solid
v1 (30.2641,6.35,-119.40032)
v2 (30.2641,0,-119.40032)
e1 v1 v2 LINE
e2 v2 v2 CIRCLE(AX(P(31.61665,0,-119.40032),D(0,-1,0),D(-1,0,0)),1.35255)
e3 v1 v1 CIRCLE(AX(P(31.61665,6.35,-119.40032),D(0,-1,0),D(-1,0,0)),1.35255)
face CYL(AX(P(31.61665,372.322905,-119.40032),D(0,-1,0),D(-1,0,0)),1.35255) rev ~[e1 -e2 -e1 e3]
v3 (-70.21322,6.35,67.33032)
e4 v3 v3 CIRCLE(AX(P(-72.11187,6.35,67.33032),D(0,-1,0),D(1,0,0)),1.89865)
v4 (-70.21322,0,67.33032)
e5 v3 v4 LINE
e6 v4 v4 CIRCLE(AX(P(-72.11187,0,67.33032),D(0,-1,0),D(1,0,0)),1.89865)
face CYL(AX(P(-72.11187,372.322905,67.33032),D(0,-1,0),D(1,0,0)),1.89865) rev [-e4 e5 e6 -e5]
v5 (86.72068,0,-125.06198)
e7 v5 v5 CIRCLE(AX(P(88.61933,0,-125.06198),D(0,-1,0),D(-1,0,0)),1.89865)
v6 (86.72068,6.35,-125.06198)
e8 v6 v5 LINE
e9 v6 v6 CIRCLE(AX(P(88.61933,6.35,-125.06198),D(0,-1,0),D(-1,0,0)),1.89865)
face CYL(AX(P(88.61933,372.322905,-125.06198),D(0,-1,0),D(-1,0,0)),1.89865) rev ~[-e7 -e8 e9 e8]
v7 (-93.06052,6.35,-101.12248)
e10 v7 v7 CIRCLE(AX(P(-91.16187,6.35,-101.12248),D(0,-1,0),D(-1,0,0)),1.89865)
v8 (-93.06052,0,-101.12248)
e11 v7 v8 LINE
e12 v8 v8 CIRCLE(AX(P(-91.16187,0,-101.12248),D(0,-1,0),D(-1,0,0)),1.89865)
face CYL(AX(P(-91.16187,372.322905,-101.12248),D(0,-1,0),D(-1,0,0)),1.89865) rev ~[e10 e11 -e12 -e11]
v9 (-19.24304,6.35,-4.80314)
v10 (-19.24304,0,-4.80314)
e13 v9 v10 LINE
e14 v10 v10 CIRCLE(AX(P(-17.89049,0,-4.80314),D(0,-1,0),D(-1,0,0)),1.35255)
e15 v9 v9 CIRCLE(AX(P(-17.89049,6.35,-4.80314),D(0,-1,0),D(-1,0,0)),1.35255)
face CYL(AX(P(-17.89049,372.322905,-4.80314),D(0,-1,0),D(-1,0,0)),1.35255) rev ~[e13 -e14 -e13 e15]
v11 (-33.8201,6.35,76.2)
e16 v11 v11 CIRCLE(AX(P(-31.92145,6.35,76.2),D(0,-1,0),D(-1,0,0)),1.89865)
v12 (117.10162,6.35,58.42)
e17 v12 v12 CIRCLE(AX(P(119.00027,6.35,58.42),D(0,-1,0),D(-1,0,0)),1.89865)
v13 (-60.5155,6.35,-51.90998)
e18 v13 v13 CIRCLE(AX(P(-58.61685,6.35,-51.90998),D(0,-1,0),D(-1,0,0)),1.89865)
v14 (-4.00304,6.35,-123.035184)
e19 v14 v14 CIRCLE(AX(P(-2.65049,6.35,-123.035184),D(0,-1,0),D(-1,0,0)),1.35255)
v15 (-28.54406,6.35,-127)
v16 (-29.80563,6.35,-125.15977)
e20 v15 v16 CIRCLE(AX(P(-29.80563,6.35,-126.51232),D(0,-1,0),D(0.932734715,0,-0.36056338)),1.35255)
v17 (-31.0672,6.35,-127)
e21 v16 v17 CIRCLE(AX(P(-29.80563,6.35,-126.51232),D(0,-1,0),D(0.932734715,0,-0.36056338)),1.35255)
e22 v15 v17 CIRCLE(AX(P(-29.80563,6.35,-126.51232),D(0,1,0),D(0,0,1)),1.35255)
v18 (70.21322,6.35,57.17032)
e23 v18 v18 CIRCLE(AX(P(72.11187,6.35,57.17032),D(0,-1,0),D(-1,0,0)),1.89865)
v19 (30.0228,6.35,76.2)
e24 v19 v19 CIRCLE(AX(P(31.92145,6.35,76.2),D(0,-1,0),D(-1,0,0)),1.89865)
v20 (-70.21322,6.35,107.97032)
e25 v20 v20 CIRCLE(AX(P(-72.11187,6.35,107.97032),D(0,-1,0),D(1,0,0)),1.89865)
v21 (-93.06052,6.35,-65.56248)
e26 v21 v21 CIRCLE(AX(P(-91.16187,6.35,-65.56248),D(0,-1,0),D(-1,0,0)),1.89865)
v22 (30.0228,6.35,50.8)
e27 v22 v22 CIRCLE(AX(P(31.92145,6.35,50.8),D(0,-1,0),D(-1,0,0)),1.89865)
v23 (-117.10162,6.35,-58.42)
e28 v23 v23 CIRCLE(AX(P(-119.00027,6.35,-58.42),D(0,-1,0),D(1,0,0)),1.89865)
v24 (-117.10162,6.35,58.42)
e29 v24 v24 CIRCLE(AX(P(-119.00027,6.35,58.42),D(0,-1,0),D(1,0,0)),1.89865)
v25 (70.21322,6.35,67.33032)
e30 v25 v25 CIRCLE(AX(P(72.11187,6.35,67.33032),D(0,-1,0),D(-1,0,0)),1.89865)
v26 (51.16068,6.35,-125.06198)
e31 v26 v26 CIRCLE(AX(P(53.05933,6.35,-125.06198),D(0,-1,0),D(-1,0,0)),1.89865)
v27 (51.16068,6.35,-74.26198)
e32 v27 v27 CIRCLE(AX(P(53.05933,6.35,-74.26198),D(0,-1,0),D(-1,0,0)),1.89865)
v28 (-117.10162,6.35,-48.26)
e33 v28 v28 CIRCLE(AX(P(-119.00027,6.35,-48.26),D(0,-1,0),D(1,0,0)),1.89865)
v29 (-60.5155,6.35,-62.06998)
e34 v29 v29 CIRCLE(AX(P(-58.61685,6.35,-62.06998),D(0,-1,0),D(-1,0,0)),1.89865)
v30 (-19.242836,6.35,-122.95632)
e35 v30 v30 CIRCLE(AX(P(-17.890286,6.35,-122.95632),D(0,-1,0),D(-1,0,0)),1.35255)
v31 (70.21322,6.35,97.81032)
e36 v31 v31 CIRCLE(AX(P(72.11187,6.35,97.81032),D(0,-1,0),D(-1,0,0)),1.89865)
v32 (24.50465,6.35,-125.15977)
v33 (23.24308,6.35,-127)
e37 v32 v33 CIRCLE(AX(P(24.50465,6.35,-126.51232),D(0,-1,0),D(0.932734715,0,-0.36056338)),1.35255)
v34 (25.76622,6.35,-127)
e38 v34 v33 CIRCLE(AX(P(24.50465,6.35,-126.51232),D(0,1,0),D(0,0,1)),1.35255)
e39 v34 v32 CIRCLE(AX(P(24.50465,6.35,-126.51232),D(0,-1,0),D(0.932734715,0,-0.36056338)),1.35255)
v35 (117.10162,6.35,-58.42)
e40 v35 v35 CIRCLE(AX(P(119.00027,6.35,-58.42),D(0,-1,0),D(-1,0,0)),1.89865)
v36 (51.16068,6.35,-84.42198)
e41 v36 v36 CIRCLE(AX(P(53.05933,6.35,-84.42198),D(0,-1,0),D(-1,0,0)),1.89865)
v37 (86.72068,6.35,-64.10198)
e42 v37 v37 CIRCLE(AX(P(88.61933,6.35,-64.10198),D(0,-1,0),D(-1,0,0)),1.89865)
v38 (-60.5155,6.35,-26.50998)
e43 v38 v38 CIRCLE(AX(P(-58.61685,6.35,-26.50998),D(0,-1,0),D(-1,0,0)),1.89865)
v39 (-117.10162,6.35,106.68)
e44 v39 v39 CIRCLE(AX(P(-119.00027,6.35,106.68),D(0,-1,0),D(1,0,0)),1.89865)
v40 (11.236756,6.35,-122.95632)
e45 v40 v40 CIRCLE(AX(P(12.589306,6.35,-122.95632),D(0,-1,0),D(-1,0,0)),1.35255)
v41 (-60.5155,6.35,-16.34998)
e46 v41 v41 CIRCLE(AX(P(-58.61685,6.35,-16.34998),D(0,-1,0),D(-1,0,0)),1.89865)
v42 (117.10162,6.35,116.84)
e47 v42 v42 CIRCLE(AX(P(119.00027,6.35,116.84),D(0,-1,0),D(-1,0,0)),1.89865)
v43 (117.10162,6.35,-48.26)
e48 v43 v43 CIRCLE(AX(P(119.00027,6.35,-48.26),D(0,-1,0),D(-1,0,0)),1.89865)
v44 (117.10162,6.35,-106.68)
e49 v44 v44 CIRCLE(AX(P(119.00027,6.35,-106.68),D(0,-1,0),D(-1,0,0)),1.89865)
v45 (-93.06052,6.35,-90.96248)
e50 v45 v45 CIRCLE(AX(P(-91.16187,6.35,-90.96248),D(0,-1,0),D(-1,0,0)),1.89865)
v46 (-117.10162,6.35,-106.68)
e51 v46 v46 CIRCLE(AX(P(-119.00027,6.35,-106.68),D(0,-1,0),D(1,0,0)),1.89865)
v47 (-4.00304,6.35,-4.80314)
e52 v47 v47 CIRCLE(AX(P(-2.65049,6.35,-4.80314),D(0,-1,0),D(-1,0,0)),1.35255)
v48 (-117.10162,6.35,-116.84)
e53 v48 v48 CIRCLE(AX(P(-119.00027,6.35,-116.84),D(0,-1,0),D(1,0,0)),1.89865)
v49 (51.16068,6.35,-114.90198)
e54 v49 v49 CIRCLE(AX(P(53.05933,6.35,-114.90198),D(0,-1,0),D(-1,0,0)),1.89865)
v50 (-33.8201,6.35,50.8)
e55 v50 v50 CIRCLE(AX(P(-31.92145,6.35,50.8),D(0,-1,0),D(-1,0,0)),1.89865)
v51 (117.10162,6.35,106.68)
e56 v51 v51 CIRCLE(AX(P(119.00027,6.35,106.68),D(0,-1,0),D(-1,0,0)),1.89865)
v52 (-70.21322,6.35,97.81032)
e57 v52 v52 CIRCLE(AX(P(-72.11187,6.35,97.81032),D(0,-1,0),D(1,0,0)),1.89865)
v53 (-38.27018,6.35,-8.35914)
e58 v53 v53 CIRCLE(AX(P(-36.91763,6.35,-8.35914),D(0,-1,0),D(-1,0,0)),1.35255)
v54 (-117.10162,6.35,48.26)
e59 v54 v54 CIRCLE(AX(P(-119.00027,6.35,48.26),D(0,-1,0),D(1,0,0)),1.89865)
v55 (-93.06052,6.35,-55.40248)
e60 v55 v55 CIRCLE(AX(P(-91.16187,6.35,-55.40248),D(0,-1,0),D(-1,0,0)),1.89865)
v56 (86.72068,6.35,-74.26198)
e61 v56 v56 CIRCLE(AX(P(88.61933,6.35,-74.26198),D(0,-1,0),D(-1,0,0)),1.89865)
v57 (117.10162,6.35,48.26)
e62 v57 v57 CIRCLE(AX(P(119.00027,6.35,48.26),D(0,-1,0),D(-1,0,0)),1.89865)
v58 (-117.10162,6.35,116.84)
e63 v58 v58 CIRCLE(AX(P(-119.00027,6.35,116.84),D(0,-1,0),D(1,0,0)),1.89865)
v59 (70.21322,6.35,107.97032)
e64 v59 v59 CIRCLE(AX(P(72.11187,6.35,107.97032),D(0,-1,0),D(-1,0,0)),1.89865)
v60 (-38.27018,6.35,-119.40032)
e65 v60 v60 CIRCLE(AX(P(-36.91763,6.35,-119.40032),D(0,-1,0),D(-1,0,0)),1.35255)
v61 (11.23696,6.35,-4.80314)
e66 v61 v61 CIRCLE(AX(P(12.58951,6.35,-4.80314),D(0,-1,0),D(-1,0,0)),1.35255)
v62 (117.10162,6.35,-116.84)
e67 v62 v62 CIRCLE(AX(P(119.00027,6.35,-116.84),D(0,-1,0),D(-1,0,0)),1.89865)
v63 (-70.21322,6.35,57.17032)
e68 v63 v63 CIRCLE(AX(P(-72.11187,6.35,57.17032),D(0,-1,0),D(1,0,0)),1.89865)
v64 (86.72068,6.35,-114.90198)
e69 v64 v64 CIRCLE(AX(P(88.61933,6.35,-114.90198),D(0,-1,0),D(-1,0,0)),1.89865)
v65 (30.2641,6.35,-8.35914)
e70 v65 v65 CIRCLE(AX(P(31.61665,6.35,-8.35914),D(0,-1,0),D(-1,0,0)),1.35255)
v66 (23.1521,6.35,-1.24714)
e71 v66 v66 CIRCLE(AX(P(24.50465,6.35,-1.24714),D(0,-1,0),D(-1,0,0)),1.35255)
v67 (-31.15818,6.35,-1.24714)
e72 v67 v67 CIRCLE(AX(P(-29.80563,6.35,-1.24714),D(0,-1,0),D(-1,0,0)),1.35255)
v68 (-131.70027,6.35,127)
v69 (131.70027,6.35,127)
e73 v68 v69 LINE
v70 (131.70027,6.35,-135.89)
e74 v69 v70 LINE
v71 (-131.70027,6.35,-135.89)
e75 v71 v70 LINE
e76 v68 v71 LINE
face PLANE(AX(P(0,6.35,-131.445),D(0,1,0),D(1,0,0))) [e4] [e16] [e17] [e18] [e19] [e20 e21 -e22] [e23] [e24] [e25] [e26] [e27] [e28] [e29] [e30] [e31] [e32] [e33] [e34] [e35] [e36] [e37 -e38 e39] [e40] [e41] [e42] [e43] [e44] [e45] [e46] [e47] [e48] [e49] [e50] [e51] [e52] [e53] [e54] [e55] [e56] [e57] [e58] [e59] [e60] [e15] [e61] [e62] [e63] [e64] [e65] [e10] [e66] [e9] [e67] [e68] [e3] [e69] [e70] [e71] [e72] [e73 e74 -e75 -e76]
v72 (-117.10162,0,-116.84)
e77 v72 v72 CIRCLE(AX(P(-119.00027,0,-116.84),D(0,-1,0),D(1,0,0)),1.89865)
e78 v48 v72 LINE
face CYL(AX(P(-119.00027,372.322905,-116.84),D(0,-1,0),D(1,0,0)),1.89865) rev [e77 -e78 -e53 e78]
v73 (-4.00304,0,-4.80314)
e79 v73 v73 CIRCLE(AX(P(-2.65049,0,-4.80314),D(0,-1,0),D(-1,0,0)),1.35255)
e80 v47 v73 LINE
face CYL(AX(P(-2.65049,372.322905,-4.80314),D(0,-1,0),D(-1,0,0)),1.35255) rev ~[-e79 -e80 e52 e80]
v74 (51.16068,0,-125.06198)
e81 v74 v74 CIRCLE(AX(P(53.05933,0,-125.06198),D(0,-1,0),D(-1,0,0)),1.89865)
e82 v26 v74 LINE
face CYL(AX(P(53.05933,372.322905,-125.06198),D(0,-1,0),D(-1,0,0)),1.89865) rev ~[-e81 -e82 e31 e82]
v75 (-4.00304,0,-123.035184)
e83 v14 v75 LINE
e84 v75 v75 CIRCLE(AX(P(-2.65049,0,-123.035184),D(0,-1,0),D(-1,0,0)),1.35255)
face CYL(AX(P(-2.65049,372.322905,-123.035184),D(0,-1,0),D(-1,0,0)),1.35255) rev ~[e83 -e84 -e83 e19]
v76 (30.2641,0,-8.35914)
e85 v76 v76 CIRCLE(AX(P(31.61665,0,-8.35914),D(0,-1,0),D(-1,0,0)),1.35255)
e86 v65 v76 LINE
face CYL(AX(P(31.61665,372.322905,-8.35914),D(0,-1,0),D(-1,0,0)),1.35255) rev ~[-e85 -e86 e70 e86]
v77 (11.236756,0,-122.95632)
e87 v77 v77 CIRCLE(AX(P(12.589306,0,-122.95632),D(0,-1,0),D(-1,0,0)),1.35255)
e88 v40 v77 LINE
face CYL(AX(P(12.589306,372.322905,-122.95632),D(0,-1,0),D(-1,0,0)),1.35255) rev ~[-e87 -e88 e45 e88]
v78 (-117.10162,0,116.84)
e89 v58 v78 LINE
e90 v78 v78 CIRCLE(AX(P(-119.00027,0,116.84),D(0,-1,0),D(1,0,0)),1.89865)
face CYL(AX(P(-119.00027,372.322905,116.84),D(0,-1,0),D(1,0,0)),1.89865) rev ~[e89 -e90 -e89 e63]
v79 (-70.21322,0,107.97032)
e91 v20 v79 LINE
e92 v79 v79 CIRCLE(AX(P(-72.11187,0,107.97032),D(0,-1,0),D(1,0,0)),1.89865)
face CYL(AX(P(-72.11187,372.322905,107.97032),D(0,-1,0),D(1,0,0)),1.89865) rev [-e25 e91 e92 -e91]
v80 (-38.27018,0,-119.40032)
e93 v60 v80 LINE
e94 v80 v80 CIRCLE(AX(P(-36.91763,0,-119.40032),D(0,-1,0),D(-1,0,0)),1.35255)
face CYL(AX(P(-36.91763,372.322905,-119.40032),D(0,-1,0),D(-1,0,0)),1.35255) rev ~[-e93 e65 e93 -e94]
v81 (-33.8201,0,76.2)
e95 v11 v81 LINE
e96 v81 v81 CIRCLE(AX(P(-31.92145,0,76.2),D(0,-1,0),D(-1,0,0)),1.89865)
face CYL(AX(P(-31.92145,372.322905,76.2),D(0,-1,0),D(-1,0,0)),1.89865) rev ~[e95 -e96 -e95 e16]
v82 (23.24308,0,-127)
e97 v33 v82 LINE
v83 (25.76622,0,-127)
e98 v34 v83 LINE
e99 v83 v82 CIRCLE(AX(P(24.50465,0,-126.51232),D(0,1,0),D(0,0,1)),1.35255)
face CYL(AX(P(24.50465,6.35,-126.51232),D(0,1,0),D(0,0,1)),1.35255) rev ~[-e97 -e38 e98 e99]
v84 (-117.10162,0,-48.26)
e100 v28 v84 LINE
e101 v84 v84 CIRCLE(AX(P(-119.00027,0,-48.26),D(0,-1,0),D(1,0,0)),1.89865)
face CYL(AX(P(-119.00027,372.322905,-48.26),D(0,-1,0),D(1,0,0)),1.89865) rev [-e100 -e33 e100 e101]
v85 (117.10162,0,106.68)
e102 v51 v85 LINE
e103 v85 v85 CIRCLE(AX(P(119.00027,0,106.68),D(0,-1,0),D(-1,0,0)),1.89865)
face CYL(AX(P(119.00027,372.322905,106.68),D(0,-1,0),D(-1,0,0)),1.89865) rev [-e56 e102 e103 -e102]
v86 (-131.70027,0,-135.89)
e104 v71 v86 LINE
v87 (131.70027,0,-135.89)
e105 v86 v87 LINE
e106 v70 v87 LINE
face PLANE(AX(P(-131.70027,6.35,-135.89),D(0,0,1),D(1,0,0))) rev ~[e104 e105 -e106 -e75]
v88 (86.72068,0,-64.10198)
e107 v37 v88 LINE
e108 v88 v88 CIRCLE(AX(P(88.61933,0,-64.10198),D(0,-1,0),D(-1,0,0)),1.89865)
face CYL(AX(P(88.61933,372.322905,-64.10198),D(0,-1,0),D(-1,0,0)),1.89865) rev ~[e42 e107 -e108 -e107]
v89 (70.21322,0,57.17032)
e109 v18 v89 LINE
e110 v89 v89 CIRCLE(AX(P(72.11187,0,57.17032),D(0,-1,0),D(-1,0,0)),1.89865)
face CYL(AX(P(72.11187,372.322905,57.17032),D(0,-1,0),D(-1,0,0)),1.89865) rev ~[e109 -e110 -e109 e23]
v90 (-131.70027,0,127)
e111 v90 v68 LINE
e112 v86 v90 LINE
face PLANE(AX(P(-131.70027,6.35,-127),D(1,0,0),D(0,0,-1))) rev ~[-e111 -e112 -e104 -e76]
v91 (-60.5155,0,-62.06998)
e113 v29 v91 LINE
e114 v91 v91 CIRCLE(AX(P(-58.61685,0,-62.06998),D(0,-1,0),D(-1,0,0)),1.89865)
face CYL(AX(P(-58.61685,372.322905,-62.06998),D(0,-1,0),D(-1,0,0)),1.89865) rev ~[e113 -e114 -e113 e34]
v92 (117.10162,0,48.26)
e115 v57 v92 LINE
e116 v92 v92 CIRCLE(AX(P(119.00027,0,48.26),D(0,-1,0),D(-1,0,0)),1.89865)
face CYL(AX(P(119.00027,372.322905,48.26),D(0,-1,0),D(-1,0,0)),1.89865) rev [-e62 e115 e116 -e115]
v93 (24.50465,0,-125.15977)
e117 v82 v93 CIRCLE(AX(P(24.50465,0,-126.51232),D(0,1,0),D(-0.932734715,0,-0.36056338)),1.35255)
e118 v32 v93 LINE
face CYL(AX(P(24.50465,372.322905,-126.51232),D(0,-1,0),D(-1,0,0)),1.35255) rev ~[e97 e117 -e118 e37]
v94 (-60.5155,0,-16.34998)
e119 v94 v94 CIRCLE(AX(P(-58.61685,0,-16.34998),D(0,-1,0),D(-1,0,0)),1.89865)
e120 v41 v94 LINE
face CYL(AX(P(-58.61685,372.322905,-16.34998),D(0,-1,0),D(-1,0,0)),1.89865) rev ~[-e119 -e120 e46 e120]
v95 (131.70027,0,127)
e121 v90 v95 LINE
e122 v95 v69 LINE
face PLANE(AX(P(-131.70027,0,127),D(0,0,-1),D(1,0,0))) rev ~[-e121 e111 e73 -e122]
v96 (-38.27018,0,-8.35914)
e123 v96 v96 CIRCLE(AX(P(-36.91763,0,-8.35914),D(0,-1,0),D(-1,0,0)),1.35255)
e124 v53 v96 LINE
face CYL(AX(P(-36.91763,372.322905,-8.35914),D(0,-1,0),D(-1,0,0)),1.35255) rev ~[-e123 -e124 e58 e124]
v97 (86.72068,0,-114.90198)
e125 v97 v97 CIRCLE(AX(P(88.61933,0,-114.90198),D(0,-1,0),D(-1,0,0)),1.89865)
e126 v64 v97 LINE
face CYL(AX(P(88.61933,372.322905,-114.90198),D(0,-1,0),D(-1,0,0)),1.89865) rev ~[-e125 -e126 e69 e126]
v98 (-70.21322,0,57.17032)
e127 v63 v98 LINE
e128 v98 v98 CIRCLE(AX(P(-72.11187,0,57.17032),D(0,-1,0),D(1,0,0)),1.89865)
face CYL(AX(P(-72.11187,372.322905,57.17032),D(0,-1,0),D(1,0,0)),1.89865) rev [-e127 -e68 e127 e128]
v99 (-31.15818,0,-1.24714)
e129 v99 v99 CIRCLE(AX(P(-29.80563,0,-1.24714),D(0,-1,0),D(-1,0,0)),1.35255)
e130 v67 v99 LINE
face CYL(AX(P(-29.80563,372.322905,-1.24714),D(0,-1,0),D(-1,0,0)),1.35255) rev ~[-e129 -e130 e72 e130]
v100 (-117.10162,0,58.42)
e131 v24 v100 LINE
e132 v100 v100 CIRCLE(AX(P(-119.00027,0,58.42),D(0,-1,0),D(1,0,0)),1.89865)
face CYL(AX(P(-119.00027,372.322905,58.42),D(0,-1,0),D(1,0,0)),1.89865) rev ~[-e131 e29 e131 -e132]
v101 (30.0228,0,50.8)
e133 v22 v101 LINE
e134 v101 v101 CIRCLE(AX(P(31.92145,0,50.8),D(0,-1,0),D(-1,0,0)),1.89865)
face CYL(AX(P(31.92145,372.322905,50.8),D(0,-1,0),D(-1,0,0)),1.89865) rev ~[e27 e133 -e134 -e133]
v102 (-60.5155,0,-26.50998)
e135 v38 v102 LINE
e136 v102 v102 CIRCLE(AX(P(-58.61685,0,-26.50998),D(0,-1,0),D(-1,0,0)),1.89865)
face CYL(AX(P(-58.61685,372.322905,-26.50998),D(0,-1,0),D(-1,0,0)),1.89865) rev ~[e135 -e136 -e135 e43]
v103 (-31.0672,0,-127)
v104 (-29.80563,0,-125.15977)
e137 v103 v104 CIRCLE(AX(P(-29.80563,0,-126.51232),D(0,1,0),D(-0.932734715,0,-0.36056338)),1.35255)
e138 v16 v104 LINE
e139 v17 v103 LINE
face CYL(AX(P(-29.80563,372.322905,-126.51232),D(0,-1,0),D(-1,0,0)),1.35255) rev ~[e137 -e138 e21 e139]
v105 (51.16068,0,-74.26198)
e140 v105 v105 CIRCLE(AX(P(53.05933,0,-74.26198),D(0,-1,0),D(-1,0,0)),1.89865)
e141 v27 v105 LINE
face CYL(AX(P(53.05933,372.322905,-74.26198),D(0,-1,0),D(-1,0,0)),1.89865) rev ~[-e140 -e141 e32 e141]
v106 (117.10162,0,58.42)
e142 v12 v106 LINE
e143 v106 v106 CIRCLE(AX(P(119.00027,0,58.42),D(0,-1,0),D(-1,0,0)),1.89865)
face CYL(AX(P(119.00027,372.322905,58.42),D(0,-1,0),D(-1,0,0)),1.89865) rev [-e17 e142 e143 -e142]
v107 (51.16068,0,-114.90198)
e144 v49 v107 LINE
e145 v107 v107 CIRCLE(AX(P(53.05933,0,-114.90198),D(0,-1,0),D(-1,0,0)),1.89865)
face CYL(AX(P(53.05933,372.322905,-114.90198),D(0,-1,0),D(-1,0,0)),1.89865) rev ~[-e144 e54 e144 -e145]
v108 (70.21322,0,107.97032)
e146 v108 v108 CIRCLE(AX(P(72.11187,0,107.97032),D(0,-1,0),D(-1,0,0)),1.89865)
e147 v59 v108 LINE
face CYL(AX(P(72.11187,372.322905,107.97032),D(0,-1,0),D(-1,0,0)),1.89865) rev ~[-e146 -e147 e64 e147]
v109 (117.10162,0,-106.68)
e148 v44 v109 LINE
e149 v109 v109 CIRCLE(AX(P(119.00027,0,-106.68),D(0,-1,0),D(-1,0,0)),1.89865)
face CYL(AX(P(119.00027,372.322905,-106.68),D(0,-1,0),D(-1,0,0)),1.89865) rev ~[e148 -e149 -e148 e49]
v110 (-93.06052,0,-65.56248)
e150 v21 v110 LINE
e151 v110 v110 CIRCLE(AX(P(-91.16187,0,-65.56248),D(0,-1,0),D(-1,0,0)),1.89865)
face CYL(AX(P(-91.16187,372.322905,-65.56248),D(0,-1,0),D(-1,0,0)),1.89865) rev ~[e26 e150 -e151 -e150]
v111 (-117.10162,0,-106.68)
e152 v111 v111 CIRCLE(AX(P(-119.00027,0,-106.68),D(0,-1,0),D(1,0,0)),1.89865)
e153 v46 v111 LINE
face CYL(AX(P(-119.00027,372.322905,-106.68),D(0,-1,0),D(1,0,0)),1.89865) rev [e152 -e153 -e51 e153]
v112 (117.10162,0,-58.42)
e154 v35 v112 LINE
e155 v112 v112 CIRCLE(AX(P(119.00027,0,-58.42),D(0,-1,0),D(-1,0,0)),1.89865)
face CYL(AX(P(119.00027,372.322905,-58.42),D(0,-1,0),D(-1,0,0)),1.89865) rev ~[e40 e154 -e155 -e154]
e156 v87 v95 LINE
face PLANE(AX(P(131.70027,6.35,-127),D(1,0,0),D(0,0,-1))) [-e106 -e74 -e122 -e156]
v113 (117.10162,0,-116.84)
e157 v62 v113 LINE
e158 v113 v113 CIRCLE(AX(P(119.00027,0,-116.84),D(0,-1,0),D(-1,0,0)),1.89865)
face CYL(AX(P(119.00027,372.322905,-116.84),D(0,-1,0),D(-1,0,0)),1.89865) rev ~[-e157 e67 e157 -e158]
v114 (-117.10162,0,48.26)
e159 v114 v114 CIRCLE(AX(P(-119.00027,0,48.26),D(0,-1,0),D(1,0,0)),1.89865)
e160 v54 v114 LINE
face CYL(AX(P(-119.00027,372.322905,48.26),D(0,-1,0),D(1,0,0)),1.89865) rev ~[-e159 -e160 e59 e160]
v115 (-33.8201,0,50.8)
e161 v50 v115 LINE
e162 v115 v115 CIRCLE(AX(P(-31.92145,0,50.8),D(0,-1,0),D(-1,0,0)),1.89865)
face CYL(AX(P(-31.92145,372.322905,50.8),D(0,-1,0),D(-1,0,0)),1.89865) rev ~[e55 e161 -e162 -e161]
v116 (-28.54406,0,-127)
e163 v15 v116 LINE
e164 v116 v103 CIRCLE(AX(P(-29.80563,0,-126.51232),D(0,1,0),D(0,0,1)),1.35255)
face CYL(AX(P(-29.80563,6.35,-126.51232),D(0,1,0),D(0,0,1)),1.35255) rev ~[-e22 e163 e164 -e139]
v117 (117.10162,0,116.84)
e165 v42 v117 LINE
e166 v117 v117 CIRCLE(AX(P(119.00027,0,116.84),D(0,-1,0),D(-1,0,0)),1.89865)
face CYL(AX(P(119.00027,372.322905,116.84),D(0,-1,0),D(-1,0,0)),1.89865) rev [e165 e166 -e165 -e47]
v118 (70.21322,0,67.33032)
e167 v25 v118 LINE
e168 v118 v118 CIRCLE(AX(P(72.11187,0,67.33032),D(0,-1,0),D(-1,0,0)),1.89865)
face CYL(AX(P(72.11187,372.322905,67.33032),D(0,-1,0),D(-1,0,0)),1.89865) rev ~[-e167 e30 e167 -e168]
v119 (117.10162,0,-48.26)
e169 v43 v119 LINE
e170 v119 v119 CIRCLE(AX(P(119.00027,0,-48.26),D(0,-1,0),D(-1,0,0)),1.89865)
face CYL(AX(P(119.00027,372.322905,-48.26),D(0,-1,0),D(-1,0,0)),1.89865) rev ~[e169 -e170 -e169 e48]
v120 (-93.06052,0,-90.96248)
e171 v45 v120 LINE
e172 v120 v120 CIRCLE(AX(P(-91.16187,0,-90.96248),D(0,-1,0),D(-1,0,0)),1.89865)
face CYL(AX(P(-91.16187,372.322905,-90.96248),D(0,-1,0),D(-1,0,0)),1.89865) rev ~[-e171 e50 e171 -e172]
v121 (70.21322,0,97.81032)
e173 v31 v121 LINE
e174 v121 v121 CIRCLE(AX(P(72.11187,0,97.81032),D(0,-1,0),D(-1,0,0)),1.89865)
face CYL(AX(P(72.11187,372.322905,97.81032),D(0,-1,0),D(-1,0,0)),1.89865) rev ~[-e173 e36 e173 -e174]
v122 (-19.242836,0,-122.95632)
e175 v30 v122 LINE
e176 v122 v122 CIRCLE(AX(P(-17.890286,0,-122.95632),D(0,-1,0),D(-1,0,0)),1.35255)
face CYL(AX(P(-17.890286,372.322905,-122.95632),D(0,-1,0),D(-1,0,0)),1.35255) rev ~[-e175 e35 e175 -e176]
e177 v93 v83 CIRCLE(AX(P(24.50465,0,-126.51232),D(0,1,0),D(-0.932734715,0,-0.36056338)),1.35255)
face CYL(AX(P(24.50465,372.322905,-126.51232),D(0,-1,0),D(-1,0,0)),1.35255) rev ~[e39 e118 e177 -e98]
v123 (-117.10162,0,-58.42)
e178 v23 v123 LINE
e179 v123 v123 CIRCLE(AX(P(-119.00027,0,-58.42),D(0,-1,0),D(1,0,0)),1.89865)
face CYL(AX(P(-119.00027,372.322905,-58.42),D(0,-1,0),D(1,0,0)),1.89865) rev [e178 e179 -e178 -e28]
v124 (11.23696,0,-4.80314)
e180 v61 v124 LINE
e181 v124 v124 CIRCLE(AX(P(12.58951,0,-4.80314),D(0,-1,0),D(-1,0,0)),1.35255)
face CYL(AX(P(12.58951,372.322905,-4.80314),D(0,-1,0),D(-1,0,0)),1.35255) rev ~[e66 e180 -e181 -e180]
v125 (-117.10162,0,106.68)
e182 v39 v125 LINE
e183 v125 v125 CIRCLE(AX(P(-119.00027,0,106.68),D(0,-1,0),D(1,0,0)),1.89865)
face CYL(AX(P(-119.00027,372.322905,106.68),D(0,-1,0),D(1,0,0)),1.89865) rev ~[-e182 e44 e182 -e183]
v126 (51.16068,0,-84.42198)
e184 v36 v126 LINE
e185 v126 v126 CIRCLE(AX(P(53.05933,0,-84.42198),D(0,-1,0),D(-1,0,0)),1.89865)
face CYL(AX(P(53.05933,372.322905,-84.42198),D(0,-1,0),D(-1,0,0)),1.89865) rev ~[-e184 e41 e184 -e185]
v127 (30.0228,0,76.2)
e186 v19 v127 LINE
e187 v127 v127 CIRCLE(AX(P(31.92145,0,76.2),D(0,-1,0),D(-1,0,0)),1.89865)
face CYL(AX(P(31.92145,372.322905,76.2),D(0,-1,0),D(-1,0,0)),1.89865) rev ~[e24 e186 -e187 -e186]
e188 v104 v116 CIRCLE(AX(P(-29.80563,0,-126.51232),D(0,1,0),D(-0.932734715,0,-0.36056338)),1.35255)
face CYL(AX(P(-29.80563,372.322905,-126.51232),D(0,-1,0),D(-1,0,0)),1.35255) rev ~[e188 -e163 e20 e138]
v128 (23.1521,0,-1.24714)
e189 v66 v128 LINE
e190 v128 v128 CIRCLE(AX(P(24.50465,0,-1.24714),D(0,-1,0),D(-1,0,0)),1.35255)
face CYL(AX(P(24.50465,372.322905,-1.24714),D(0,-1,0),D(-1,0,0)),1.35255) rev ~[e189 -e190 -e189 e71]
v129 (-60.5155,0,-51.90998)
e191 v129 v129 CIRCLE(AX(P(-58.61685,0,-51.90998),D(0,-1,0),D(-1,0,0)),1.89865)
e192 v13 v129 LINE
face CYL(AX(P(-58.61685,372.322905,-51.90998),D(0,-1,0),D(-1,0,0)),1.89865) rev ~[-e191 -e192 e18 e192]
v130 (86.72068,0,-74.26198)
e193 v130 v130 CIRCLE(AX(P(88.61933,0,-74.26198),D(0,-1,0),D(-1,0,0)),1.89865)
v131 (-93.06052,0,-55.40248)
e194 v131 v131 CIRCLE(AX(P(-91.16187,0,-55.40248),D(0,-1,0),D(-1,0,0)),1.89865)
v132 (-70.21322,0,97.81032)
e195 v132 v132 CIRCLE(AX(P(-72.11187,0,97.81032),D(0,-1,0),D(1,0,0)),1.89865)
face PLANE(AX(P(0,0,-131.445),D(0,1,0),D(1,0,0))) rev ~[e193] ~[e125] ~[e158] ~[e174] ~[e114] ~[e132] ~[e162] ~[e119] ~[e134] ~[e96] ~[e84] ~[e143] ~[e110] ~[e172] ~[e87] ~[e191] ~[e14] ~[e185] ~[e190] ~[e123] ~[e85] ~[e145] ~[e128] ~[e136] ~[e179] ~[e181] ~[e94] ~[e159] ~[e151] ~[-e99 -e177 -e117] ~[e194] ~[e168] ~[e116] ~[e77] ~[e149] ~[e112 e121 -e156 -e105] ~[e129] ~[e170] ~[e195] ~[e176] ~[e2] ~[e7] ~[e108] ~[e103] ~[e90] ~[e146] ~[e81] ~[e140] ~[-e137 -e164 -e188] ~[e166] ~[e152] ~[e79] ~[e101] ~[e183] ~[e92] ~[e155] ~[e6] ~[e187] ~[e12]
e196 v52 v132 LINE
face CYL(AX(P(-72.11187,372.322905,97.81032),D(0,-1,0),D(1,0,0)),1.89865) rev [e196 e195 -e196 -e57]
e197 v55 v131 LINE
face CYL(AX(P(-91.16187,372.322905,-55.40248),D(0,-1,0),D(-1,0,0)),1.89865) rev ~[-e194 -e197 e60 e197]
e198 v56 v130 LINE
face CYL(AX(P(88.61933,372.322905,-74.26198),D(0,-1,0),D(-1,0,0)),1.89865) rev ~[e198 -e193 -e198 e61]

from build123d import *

# Parameters (mm, degrees)
SKETCH1_W                 = 263.40054
SKETCH1_H                 = 254
BOSS_EXTRUDE1_DEPTH       = 6.35
F_6_CLEARANCE_HOLE1_D     = 3.7973
F_6_CLEARANCE_HOLE2_D     = 3.7973
F_6_CLEARANCE_HOLE3_D     = 3.7973
F_6_CLEARANCE_HOLE4_D     = 3.7973
MIRROR2_COPY_1_D          = 3.7973
F_6_CLEARANCE_HOLE5_D     = 3.7973
F_6_CLEARANCE_HOLE6_D     = 3.7973
TAP_DRILL_FOR_6_32_TAP1_D = 2.7051
TAP_DRILL_FOR_6_32_TAP2_D = 2.7051
TAP_DRILL_FOR_6_32_TAP3_D = 2.7051
F_6_CLEARANCE_HOLE7_D     = 3.7973
SKETCH23_W                = 263.40054
SKETCH23_H                = 8.89
BOSS_EXTRUDE2_DEPTH       = 6.35
SKETCH24_R                = 1.35255
CUT_EXTRUDE1_DEPTH        = 190.344595165


with BuildPart() as part:
    # Sketch1 → Boss-Extrude1 (new body)
    with BuildSketch(Plane(origin=(0, 0, 0), x_dir=(1, 0, 0), z_dir=(0, 1, 0))):
        Rectangle(SKETCH1_W, SKETCH1_H)
    extrude(amount=BOSS_EXTRUDE1_DEPTH)

    # #6 Clearance Hole1 (through all)
    with Locations(Plane(origin=(0, 6.35, 0), x_dir=(1, 0, 0), z_dir=(0, 1, 0))):
        with Locations((119.00027, 116.84), (119.00027, 106.68), (119.00027, 58.42), (119.00027, 48.26)):
            f_6_clearance_hole1 = Hole(F_6_CLEARANCE_HOLE1_D / 2)

    # Mirror1: #6 Clearance Hole1 across plane
    add(f_6_clearance_hole1.mirror(Plane(origin=(0, 0, 0), x_dir=(1, 0, 0), z_dir=(0, 0, -1))), mode=Mode.SUBTRACT)

    # #6 Clearance Hole2 (through all)
    with Locations(Plane(origin=(0, 6.35, 0), x_dir=(1, 0, 0), z_dir=(0, 1, 0))):
        with Locations((88.61933, 125.06198), (88.61933, 114.90198), (88.61933, 74.26198), (88.61933, 64.10198)):
            Hole(F_6_CLEARANCE_HOLE2_D / 2)

    # #6 Clearance Hole3 (through all)
    with Locations(Plane(origin=(0, 6.35, 0), x_dir=(1, 0, 0), z_dir=(0, 1, 0))):
        with Locations((53.05933, 125.06198), (53.05933, 114.90198), (53.05933, 84.42198), (53.05933, 74.26198)):
            Hole(F_6_CLEARANCE_HOLE3_D / 2)

    # #6 Clearance Hole4 (through all)
    with Locations(Plane(origin=(0, 6.35, 0), x_dir=(1, 0, 0), z_dir=(0, 1, 0))):
        with Locations((72.11187, -57.17032), (72.11187, -67.33032), (72.11187, -97.81032), (72.11187, -107.97032)):
            f_6_clearance_hole4 = Hole(F_6_CLEARANCE_HOLE4_D / 2)

    # Mirror2: #6 Clearance Hole1, #6 Clearance Hole4 across plane
    add(f_6_clearance_hole1.mirror(Plane.ZY), mode=Mode.SUBTRACT)
    add(f_6_clearance_hole4.mirror(Plane.ZY), mode=Mode.SUBTRACT)

    # Mirror2 copy 1 (through all)
    with Locations(Plane(origin=(0, 6.35, 0), x_dir=(-1, 0, 0), z_dir=(0, 1, 0))):
        with Locations((119.00027, 116.84), (119.00027, 106.68), (119.00027, 58.42), (119.00027, 48.26)):
            Hole(MIRROR2_COPY_1_D / 2)

    # #6 Clearance Hole5 (through all)
    with Locations(Plane(origin=(0, 6.35, 0), x_dir=(1, 0, 0), z_dir=(0, 1, 0))):
        with Locations((-91.16187, 101.12248), (-91.16187, 90.96248), (-91.16187, 65.56248), (-91.16187, 55.40248)):
            Hole(F_6_CLEARANCE_HOLE5_D / 2)

    # #6 Clearance Hole6 (through all)
    with Locations(Plane(origin=(0, 6.35, 0), x_dir=(1, 0, 0), z_dir=(0, 1, 0))):
        with Locations((-58.61685, 62.06998), (-58.61685, 51.90998), (-58.61685, 26.50998), (-58.61685, 16.34998)):
            Hole(F_6_CLEARANCE_HOLE6_D / 2)

    # Tap Drill for #6-32 Tap1 (through all)
    with Locations(Plane(origin=(0, 6.35, 0), x_dir=(1, 0, 0), z_dir=(0, 1, 0))):
        with Locations((-36.91763, 8.35914), (-29.80563, 1.24714)):
            Hole(TAP_DRILL_FOR_6_32_TAP1_D / 2)

    # Tap Drill for #6-32 Tap2 (through all)
    with Locations(Plane(origin=(0, 6.35, 0), x_dir=(1, 0, 0), z_dir=(0, 1, 0))):
        with Locations((-29.80563, 126.51232), (-36.91763, 119.40032)):
            Hole(TAP_DRILL_FOR_6_32_TAP2_D / 2)

    # Tap Drill for #6-32 Tap3 (through all)
    with Locations(Plane(origin=(0, 6.35, 0), x_dir=(1, 0, 0), z_dir=(0, 1, 0))):
        with Locations((-17.89049, 4.80314), (-2.65049, 4.80314), (12.58951, 4.80314), (-17.890285947, 122.95632), (-2.65049, 123.035183862), (12.589305947, 122.95632), (24.50465, 126.51232), (31.61665, 119.40032), (24.50465, 1.24714), (31.61665, 8.35914)):
            Hole(TAP_DRILL_FOR_6_32_TAP3_D / 2)

    # #6 Clearance Hole7 (through all)
    with Locations(Plane(origin=(0, 6.35, 0), x_dir=(1, 0, 0), z_dir=(0, 1, 0))):
        with Locations((-31.92145, -50.8), (-31.92145, -76.2), (31.92145, -76.2), (31.92145, -50.8)):
            Hole(F_6_CLEARANCE_HOLE7_D / 2)

    # Sketch23 → Boss-Extrude2 (add)
    with BuildSketch(Plane(origin=(0, 6.35, 0), x_dir=(1, 0, 0), z_dir=(0, 1, 0))):
        with Locations((0, 131.445)):
            Rectangle(SKETCH23_W, SKETCH23_H)
    extrude(amount=-BOSS_EXTRUDE2_DEPTH)

    # Sketch24 → Cut-Extrude1 (cut, through all)
    with BuildSketch(Plane(origin=(0, 6.35, 0), x_dir=(1, 0, 0), z_dir=(0, 1, 0))):
        with Locations(Location((-29.80563, 126.51232, 0), (0, 0, 270))):
            Circle(SKETCH24_R)
        with Locations(Location((24.50465, 126.51232, 0), (0, 0, 270))):
            Circle(SKETCH24_R)
    extrude(amount=-CUT_EXTRUDE1_DEPTH, mode=Mode.SUBTRACT)


solid = part.part
